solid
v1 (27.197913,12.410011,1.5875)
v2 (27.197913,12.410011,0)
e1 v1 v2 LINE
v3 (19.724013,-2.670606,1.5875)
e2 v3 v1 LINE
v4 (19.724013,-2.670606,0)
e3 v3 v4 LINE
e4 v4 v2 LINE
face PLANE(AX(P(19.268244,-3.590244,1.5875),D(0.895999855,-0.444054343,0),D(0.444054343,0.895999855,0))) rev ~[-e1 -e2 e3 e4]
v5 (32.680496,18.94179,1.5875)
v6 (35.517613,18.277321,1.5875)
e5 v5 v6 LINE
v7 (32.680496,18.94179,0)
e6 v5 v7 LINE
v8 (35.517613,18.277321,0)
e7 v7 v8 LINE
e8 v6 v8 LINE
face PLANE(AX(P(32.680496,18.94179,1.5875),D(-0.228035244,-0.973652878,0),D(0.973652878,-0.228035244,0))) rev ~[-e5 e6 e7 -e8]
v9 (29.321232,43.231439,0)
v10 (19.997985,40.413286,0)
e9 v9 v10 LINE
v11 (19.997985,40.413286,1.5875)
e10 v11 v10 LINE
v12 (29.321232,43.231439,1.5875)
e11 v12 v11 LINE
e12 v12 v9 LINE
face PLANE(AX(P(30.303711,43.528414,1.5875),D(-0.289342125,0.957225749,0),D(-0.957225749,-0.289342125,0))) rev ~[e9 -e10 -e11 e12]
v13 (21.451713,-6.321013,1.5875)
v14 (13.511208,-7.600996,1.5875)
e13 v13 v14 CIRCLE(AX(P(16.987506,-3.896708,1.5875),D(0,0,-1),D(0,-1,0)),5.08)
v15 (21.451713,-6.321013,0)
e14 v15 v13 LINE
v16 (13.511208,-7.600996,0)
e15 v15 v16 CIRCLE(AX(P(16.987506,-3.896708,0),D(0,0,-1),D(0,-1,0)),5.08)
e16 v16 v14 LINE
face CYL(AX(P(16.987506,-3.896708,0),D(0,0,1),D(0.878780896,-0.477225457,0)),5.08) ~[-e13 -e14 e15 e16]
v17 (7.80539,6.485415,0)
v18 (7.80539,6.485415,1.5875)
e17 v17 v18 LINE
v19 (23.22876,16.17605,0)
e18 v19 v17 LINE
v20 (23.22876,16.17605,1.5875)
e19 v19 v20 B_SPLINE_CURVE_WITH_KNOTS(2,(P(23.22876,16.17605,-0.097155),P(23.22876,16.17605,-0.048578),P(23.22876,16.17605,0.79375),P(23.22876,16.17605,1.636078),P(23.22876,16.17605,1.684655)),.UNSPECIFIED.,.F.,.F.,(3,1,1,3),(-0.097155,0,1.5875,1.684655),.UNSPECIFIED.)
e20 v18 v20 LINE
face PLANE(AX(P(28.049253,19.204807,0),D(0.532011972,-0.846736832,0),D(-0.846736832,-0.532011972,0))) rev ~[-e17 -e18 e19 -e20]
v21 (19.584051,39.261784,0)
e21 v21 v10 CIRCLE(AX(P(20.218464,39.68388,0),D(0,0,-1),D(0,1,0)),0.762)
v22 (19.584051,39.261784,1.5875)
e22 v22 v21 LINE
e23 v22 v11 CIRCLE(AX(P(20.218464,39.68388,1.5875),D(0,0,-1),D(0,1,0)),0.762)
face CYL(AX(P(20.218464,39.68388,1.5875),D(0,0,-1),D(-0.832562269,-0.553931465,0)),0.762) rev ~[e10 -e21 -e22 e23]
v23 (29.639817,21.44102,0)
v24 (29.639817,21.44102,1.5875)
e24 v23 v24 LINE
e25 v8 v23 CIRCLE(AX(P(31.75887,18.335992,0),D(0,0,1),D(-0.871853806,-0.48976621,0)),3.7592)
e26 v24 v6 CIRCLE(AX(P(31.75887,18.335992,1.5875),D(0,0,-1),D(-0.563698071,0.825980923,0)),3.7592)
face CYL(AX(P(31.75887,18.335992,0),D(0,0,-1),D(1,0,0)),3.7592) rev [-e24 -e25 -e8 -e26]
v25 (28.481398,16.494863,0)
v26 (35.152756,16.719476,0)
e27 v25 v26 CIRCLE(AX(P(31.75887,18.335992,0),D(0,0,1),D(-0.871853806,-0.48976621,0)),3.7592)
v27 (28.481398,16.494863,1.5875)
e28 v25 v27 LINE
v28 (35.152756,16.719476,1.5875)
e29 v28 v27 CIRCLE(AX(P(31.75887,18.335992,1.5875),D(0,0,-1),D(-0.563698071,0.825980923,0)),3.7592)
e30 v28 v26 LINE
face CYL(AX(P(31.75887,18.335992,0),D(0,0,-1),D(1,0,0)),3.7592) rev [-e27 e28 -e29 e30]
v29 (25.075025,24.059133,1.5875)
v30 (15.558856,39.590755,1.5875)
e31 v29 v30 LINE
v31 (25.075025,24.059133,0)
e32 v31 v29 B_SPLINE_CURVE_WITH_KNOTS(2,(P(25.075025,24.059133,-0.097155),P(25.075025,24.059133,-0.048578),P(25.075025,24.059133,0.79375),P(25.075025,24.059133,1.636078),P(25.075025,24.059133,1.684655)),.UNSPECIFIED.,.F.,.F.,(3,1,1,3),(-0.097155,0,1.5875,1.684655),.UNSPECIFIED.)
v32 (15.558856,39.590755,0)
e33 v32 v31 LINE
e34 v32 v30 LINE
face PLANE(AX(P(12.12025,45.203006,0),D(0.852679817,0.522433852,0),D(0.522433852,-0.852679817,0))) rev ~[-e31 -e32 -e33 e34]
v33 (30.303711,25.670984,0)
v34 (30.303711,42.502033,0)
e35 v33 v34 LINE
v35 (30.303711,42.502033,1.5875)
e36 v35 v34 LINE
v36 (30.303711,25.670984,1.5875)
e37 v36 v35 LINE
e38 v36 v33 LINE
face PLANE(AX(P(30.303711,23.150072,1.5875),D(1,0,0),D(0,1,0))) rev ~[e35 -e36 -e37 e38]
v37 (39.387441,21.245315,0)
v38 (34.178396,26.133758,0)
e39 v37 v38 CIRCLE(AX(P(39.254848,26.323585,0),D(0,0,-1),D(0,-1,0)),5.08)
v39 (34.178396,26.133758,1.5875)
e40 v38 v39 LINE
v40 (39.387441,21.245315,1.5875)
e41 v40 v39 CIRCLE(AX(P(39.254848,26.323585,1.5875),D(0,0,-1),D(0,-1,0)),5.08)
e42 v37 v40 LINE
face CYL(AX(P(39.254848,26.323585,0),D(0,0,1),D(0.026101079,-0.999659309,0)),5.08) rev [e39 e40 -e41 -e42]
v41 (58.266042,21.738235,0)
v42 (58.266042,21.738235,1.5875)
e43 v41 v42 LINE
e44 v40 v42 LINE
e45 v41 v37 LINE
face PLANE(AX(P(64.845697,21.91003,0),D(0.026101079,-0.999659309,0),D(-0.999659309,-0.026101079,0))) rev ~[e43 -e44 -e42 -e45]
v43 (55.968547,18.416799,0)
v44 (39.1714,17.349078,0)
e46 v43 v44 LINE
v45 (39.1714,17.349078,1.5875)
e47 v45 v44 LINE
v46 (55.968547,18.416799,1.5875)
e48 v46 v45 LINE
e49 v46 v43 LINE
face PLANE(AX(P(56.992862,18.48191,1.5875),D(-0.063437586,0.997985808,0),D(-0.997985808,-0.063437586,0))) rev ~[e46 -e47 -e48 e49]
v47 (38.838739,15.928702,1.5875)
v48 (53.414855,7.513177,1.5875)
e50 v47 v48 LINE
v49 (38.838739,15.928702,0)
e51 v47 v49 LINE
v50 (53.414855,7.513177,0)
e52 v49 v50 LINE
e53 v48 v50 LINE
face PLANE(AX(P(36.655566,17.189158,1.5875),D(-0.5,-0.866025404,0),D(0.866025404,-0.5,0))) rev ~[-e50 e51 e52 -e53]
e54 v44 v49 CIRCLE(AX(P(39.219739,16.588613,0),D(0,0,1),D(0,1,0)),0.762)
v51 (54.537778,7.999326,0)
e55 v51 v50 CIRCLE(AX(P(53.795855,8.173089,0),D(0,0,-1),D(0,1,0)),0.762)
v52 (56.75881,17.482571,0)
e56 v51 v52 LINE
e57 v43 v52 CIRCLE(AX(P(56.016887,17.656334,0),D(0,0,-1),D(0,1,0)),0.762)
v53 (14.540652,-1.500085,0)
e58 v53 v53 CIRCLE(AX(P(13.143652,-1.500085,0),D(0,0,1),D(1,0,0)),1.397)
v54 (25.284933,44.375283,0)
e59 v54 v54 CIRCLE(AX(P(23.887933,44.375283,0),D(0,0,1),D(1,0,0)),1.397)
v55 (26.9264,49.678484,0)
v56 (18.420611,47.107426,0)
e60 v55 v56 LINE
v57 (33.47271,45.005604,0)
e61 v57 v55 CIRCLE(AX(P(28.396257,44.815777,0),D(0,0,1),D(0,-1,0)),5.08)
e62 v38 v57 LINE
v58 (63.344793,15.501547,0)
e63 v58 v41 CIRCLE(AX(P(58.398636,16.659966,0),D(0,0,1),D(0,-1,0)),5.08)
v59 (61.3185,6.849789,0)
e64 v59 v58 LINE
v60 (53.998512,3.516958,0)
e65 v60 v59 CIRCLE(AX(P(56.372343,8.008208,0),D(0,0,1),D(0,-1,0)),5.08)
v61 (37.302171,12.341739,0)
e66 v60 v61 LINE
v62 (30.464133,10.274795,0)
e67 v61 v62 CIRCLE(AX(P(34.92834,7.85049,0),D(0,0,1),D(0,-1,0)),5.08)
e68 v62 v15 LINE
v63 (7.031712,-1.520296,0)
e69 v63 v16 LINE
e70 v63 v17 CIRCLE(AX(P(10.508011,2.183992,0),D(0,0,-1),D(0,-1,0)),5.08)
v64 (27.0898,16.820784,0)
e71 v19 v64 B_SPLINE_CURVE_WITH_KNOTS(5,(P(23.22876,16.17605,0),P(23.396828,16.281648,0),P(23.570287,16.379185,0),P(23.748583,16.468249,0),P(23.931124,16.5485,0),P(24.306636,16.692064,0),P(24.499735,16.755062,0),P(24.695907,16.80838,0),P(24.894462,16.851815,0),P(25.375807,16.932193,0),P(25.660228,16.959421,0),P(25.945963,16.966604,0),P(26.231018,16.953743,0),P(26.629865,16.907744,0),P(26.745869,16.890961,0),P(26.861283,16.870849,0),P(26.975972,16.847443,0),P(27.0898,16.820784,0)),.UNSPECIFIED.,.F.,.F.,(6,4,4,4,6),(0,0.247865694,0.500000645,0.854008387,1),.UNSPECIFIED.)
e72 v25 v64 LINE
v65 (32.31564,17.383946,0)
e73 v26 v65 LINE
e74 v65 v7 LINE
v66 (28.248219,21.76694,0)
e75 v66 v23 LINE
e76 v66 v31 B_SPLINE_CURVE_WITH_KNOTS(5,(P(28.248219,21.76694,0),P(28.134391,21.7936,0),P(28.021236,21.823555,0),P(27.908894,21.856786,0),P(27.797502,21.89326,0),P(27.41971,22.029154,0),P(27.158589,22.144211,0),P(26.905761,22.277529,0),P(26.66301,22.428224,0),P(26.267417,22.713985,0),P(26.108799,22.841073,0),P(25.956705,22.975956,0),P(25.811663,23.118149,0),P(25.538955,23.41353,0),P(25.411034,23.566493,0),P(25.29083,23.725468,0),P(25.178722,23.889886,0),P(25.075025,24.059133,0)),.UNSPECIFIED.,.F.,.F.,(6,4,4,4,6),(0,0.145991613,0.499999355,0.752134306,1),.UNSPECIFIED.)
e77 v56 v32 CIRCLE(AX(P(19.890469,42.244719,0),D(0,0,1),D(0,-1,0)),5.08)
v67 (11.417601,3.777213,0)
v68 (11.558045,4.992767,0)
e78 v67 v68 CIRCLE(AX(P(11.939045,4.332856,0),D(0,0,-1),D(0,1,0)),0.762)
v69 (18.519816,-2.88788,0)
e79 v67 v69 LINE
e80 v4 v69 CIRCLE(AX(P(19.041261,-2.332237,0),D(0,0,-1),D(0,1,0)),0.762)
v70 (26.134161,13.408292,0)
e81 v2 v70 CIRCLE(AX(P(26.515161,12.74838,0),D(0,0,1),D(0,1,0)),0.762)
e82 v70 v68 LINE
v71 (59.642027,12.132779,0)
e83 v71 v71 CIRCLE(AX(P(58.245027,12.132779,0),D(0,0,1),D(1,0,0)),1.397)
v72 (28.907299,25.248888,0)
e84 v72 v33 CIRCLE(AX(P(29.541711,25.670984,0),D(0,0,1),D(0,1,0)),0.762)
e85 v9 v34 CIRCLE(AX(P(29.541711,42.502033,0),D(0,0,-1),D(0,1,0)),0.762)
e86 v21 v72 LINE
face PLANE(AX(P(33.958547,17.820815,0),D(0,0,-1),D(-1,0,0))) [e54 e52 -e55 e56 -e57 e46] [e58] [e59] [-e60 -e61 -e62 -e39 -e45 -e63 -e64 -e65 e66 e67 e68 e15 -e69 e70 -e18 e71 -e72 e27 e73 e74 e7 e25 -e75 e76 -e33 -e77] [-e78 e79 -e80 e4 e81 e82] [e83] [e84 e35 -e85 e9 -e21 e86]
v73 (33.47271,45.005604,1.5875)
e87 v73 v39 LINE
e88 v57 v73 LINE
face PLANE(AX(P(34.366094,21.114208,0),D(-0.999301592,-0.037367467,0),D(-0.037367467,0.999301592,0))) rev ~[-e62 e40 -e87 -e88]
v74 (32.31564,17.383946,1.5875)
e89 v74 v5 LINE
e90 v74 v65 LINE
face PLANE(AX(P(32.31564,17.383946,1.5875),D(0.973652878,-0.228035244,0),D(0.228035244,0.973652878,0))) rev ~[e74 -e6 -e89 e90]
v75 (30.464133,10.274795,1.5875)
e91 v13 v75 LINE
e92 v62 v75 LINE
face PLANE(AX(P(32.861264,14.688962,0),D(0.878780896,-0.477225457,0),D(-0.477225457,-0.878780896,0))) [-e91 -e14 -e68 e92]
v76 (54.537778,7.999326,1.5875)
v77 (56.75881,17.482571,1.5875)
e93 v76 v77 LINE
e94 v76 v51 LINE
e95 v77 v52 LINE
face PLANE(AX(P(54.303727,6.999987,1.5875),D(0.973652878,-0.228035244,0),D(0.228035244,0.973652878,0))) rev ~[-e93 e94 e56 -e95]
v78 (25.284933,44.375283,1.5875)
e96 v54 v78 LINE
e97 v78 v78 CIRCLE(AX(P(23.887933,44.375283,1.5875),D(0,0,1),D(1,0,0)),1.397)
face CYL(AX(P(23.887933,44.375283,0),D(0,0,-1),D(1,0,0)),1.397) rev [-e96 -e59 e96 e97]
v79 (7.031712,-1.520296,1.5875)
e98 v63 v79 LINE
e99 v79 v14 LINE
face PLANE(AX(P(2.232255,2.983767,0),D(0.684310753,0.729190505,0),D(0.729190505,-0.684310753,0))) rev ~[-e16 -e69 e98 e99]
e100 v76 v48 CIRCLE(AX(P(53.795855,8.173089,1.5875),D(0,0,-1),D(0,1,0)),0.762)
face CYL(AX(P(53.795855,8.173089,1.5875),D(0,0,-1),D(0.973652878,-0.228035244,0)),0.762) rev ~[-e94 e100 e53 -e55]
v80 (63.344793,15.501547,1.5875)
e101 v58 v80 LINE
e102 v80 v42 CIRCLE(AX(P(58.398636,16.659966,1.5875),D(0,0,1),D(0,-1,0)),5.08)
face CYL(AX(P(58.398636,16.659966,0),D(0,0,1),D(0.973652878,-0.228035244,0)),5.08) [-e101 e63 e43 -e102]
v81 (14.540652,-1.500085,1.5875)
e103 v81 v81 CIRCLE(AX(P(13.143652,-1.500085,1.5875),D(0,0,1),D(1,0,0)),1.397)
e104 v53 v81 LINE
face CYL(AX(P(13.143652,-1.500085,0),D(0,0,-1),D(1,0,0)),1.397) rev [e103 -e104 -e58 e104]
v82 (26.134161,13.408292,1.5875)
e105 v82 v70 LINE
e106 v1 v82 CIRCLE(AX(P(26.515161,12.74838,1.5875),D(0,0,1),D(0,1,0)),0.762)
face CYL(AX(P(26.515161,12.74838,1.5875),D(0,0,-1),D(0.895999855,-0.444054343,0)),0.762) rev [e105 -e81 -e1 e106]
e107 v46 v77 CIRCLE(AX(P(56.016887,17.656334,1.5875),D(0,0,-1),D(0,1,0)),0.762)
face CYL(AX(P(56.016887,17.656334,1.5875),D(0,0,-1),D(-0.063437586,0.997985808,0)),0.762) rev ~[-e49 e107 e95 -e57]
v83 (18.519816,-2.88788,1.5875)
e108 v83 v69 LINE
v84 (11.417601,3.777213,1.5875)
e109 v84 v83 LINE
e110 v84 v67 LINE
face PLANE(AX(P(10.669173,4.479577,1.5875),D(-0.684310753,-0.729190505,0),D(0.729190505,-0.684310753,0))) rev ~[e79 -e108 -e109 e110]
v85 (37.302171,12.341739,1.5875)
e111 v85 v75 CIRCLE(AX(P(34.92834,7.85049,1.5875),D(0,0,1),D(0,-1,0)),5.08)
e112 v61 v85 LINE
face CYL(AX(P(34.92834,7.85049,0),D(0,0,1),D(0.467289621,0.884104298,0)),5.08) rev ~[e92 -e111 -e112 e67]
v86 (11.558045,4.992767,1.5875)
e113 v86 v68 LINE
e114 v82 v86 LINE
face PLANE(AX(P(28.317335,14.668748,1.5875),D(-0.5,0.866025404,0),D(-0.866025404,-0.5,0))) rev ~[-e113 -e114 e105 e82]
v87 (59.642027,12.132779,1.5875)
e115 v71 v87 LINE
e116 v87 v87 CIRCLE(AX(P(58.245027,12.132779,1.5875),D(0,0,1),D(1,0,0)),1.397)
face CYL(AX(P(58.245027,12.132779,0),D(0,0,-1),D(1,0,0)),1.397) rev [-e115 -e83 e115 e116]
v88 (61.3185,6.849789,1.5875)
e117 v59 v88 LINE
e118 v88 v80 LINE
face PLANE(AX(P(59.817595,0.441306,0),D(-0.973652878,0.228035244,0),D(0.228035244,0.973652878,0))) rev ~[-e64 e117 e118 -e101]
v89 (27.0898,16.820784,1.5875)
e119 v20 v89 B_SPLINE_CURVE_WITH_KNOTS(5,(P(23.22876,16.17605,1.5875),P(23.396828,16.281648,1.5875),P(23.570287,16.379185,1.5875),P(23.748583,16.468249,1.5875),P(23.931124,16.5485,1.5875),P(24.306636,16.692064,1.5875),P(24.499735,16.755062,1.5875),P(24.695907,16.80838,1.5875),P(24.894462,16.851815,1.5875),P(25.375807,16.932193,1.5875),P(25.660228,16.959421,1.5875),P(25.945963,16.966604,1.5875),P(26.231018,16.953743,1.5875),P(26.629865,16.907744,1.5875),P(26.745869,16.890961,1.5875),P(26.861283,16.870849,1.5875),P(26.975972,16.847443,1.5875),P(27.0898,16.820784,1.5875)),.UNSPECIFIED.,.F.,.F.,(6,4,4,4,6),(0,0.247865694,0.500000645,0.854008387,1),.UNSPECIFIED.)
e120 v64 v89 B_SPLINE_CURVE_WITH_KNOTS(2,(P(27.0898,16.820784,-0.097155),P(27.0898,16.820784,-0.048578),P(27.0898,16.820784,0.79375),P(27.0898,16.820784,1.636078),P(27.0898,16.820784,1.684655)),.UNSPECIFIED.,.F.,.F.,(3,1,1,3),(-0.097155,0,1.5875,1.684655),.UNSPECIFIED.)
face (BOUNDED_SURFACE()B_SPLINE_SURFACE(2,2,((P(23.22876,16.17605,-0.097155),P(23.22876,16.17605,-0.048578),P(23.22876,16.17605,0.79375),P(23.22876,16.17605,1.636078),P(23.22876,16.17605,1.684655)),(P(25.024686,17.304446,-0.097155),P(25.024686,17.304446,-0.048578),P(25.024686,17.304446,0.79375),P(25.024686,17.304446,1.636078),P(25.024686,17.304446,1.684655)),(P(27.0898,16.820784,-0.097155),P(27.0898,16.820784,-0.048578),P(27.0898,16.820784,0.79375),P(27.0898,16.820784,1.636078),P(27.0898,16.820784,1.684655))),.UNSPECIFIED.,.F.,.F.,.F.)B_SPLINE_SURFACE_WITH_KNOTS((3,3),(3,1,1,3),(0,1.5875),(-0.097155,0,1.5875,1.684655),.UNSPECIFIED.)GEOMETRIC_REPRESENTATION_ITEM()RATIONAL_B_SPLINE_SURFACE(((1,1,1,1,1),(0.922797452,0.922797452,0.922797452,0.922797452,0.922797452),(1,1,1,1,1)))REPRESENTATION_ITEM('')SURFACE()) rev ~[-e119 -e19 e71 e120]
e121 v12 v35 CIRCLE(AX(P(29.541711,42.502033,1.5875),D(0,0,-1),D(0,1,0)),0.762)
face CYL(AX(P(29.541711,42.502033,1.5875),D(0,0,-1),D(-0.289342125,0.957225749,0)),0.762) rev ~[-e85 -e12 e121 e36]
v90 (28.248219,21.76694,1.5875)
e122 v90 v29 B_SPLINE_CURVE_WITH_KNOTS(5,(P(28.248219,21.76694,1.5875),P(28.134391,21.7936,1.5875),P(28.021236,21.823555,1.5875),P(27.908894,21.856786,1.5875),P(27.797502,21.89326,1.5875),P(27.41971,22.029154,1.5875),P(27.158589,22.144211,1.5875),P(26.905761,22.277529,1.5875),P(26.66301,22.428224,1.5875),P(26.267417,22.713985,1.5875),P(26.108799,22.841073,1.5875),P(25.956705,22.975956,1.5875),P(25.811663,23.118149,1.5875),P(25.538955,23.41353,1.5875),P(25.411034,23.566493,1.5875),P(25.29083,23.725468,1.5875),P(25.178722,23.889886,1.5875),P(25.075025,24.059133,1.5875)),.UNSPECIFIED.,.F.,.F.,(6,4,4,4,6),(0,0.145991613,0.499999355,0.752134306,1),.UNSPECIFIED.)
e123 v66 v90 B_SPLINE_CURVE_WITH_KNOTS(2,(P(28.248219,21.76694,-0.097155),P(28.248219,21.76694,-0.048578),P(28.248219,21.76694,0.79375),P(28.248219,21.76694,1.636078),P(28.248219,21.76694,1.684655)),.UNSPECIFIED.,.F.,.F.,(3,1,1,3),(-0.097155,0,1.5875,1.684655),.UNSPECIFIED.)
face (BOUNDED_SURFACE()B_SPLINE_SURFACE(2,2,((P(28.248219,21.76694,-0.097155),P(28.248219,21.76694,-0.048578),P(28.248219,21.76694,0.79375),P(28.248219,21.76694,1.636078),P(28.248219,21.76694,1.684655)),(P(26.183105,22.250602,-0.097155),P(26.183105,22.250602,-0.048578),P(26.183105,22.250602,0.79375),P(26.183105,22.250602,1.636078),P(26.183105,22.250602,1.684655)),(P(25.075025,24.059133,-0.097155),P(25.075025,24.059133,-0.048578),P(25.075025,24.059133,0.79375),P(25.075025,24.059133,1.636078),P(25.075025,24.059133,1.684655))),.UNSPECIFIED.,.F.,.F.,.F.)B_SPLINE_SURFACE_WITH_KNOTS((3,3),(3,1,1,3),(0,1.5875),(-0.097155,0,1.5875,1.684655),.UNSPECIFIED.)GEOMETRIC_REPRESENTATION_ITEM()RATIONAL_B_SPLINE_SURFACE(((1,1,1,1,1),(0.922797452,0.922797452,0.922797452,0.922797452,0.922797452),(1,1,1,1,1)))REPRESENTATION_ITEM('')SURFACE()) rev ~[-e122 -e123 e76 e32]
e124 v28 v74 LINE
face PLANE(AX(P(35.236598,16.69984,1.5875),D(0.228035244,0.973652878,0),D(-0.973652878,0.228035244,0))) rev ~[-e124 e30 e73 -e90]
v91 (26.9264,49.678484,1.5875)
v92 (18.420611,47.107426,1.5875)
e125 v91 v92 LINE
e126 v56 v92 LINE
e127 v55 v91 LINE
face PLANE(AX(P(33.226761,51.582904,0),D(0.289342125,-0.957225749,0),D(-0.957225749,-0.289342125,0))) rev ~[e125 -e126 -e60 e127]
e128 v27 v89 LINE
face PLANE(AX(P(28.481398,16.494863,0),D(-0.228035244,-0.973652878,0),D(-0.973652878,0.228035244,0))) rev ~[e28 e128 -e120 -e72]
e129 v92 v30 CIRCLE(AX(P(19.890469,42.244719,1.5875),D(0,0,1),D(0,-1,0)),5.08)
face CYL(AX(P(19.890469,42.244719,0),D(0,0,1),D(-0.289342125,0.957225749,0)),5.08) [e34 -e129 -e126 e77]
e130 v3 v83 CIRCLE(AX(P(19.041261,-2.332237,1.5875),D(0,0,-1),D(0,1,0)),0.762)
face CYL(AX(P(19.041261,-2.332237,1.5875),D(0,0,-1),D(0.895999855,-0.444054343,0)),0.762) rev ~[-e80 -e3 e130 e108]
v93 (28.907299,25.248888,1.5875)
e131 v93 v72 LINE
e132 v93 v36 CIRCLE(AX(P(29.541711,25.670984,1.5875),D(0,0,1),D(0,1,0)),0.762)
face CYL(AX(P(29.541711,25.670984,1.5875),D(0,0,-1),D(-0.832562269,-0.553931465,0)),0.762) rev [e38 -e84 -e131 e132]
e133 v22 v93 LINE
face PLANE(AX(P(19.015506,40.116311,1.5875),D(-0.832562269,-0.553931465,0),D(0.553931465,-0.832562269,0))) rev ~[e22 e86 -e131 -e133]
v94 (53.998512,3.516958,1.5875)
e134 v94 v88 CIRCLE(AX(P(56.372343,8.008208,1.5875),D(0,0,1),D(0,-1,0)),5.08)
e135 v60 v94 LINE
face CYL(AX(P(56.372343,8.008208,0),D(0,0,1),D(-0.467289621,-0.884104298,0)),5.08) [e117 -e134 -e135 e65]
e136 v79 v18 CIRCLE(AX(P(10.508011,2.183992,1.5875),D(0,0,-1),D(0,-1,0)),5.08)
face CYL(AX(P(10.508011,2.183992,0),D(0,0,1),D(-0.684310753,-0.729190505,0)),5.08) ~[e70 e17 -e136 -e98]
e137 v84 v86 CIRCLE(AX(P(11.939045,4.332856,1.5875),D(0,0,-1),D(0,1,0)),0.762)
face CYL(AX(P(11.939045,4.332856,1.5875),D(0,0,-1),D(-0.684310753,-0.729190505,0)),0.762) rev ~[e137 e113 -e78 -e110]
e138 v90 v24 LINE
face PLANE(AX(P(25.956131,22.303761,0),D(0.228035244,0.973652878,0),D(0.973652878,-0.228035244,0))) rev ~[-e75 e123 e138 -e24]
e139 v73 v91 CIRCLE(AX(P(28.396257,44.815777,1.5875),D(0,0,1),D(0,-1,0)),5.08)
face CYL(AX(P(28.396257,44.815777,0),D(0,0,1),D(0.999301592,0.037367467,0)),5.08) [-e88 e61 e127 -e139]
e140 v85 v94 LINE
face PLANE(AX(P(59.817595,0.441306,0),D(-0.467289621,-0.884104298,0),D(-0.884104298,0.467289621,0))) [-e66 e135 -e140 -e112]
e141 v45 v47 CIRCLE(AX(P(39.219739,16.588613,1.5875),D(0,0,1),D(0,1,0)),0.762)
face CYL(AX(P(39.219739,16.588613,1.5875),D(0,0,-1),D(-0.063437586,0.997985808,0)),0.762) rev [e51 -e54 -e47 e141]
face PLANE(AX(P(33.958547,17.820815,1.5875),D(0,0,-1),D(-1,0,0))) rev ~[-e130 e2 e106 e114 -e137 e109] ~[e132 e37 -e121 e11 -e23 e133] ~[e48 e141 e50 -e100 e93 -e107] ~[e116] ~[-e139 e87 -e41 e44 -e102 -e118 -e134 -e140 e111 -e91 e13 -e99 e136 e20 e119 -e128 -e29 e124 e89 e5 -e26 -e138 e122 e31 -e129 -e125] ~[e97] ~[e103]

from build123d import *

# Parameters (mm, degrees)
SKETCH1_R           = 3.7592
SKETCH1_R_2         = 1.397
BOSS_EXTRUDE1_DEPTH = 1.5875
CUT_EXTRUDE1_DEPTH  = 83.87509024
FILLET1_R           = 5.08
FILLET2_R           = 5.08
CUT_EXTRUDE2_REACH  = 82.757
BOSS_EXTRUDE2_DEPTH = 1.5875
FILLET3_R           = 5.08
CUT_EXTRUDE3_REACH  = 82.757
FILLET4_R           = 0.762


with BuildPart() as part:
    # Sketch1 → Boss-Extrude1 (new body)
    with BuildSketch(Plane.XY):
        Polygon((59.817595463, 0.441306322), (64.845697084, 21.910029909), (33.226760771, 51.582904103), (12.120249948, 45.203006047), (2.232255249, 2.983766862), (18.31066445, -12.105058669), align=None)
        with Locations((31.758870494, 18.335992429)):
            Circle(SKETCH1_R, mode=Mode.SUBTRACT)
        with Locations((13.143651596, -1.500084688)):
            Circle(SKETCH1_R_2, mode=Mode.SUBTRACT)
        with Locations((58.245026637, 12.132778525)):
            Circle(SKETCH1_R_2, mode=Mode.SUBTRACT)
        with Locations((23.887933249, 44.37528345)):
            Circle(SKETCH1_R_2, mode=Mode.SUBTRACT)
    extrude(amount=BOSS_EXTRUDE1_DEPTH)

    # Sketch2 → Cut-Extrude1 (cut, through all)
    with BuildSketch(Plane(origin=(0, 0, 0), x_dir=(-1, 0, 0), z_dir=(0, 0, -1))):
        Polygon((-33.226760771, 51.582904103), (-64.845697084, 21.910029909), (-34.366094464, 21.114208254), align=None)
        Polygon((-28.049253027, 19.204806708), (-2.232255249, 2.983766862), (-12.120249948, 45.203006047), align=None)
        Polygon((-32.861263991, 14.688962325), (-18.31066445, -12.105058669), (-59.817595463, 0.441306322), align=None)
    extrude(amount=-CUT_EXTRUDE1_DEPTH, mode=Mode.SUBTRACT)

    # Fillet1
    fillet1_edges = [part.edges().sort_by_distance(p)[0] for p in [
        (34.366094464, 21.114208254, 0.79375),
        (28.049253027, 19.204806708, 0.79375),
        (32.861263991, 14.688962325, 0.79375),
    ]]
    fillet(fillet1_edges, radius=FILLET1_R)

    # Fillet2
    fillet2_edges = [part.edges().sort_by_distance(p)[0] for p in [
        (18.31066445, -12.105058669, 0.79375),
        (2.232255249, 2.983766862, 0.79375),
        (12.120249948, 45.203006047, 0.79375),
        (33.226760771, 51.582904103, 0.79375),
        (64.845697084, 21.910029909, 0.79375),
        (59.817595463, 0.441306322, 0.79375),
    ]]
    fillet(fillet2_edges, radius=FILLET2_R)

    # Sketch3 → Cut-Extrude2 (cut, up to next)
    with BuildSketch(Plane(origin=(0, 0, 0), x_dir=(-1, 0, 0), z_dir=(0, 0, -1)), mode=Mode.PRIVATE) as cut_extrude2_sk1:
        with BuildLine():
            ThreePointArc((-27.999670494, 18.335992429), (-28.12209579, 17.384438756), (-28.481397666, 16.494863291))
            Line((-28.481397666, 16.494863291), (-24.797711818, 17.357604232))
            ThreePointArc((-24.797711818, 17.357604232), (-26.039580674, 19.67548382), (-25.956130857, 22.303760854))
            Line((-25.956130857, 22.303760854), (-29.639816705, 21.441019913))
            ThreePointArc((-29.639816705, 21.441019913), (-28.434902109, 20.091788208), (-27.999670494, 18.335992429))
        make_face()
    cut_extrude2_tool1 = extrude(cut_extrude2_sk1.sketch, amount=-CUT_EXTRUDE2_REACH, mode=Mode.PRIVATE) & part.part
    add(cut_extrude2_tool1.solids().sort_by_distance((27.120451, 19.422338, 0))[0], mode=Mode.SUBTRACT)

    # Sketch4 → Boss-Extrude2 (add)
    with BuildSketch(Plane.XY.offset(1.5875)):
        Polygon((32.680495966, 18.941790424), (35.601454601, 18.257684693), (35.236598188, 16.699839988), (32.315639553, 17.383945719), align=None)
    extrude(amount=-BOSS_EXTRUDE2_DEPTH)

    # Fillet3
    fillet3_edges = [part.edges().sort_by_distance(p)[0] for p in [
        (25.956130857, 22.303760854, 0.79375),
        (24.797711818, 17.357604232, 0.79375),
    ]]
    fillet(fillet3_edges, radius=FILLET3_R)

    # Sketch5 → Cut-Extrude3 (cut, up to next)
    with BuildSketch(Plane.XY.offset(1.5875), mode=Mode.PRIVATE) as cut_extrude3_sk1:
        Polygon((30.303711078, 23.150072166), (30.303711078, 43.528414036), (19.015506314, 40.116310717), align=None)
    cut_extrude3_tool1 = extrude(cut_extrude3_sk1.sketch, amount=-CUT_EXTRUDE3_REACH, mode=Mode.PRIVATE) & part.part
    # Sketch5 → Cut-Extrude3 (cut, up to next)
    with BuildSketch(Plane.XY.offset(1.5875), mode=Mode.PRIVATE) as cut_extrude3_sk2:
        Polygon((36.65556555, 17.189157581), (54.303727297, 6.999986646), (56.992861524, 18.481910394), align=None)
    cut_extrude3_tool2 = extrude(cut_extrude3_sk2.sketch, amount=-CUT_EXTRUDE3_REACH, mode=Mode.PRIVATE) & part.part
    # Sketch5 → Cut-Extrude3 (cut, up to next)
    with BuildSketch(Plane.XY.offset(1.5875), mode=Mode.PRIVATE) as cut_extrude3_sk3:
        Polygon((28.317334854, 14.66874754), (10.669173107, 4.479576605), (19.268243644, -3.590243825), align=None)
    cut_extrude3_tool3 = extrude(cut_extrude3_sk3.sketch, amount=-CUT_EXTRUDE3_REACH, mode=Mode.PRIVATE) & part.part
    add(cut_extrude3_tool1.solids().sort_by_distance((26.540976, 35.598266, 1.5875))[0], mode=Mode.SUBTRACT)
    add(cut_extrude3_tool2.solids().sort_by_distance((49.317385, 14.223685, 1.5875))[0], mode=Mode.SUBTRACT)
    add(cut_extrude3_tool3.solids().sort_by_distance((19.418251, 5.186027, 1.5875))[0], mode=Mode.SUBTRACT)

    # Fillet4
    fillet4_edges = [part.edges().sort_by_distance(p)[0] for p in [
        (19.015506314, 40.116310717, 0.79375),
        (30.303711078, 43.528414036, 0.79375),
        (30.303711078, 23.150072166, 0.79375),
        (56.992861524, 18.481910394, 0.79375),
        (54.303727297, 6.999986646, 0.79375),
        (36.65556555, 17.189157581, 0.79375),
        (19.268243644, -3.590243825, 0.79375),
        (10.669173107, 4.479576605, 0.79375),
        (28.317334854, 14.66874754, 0.79375),
    ]]
    fillet(fillet4_edges, radius=FILLET4_R)


solid = part.part
